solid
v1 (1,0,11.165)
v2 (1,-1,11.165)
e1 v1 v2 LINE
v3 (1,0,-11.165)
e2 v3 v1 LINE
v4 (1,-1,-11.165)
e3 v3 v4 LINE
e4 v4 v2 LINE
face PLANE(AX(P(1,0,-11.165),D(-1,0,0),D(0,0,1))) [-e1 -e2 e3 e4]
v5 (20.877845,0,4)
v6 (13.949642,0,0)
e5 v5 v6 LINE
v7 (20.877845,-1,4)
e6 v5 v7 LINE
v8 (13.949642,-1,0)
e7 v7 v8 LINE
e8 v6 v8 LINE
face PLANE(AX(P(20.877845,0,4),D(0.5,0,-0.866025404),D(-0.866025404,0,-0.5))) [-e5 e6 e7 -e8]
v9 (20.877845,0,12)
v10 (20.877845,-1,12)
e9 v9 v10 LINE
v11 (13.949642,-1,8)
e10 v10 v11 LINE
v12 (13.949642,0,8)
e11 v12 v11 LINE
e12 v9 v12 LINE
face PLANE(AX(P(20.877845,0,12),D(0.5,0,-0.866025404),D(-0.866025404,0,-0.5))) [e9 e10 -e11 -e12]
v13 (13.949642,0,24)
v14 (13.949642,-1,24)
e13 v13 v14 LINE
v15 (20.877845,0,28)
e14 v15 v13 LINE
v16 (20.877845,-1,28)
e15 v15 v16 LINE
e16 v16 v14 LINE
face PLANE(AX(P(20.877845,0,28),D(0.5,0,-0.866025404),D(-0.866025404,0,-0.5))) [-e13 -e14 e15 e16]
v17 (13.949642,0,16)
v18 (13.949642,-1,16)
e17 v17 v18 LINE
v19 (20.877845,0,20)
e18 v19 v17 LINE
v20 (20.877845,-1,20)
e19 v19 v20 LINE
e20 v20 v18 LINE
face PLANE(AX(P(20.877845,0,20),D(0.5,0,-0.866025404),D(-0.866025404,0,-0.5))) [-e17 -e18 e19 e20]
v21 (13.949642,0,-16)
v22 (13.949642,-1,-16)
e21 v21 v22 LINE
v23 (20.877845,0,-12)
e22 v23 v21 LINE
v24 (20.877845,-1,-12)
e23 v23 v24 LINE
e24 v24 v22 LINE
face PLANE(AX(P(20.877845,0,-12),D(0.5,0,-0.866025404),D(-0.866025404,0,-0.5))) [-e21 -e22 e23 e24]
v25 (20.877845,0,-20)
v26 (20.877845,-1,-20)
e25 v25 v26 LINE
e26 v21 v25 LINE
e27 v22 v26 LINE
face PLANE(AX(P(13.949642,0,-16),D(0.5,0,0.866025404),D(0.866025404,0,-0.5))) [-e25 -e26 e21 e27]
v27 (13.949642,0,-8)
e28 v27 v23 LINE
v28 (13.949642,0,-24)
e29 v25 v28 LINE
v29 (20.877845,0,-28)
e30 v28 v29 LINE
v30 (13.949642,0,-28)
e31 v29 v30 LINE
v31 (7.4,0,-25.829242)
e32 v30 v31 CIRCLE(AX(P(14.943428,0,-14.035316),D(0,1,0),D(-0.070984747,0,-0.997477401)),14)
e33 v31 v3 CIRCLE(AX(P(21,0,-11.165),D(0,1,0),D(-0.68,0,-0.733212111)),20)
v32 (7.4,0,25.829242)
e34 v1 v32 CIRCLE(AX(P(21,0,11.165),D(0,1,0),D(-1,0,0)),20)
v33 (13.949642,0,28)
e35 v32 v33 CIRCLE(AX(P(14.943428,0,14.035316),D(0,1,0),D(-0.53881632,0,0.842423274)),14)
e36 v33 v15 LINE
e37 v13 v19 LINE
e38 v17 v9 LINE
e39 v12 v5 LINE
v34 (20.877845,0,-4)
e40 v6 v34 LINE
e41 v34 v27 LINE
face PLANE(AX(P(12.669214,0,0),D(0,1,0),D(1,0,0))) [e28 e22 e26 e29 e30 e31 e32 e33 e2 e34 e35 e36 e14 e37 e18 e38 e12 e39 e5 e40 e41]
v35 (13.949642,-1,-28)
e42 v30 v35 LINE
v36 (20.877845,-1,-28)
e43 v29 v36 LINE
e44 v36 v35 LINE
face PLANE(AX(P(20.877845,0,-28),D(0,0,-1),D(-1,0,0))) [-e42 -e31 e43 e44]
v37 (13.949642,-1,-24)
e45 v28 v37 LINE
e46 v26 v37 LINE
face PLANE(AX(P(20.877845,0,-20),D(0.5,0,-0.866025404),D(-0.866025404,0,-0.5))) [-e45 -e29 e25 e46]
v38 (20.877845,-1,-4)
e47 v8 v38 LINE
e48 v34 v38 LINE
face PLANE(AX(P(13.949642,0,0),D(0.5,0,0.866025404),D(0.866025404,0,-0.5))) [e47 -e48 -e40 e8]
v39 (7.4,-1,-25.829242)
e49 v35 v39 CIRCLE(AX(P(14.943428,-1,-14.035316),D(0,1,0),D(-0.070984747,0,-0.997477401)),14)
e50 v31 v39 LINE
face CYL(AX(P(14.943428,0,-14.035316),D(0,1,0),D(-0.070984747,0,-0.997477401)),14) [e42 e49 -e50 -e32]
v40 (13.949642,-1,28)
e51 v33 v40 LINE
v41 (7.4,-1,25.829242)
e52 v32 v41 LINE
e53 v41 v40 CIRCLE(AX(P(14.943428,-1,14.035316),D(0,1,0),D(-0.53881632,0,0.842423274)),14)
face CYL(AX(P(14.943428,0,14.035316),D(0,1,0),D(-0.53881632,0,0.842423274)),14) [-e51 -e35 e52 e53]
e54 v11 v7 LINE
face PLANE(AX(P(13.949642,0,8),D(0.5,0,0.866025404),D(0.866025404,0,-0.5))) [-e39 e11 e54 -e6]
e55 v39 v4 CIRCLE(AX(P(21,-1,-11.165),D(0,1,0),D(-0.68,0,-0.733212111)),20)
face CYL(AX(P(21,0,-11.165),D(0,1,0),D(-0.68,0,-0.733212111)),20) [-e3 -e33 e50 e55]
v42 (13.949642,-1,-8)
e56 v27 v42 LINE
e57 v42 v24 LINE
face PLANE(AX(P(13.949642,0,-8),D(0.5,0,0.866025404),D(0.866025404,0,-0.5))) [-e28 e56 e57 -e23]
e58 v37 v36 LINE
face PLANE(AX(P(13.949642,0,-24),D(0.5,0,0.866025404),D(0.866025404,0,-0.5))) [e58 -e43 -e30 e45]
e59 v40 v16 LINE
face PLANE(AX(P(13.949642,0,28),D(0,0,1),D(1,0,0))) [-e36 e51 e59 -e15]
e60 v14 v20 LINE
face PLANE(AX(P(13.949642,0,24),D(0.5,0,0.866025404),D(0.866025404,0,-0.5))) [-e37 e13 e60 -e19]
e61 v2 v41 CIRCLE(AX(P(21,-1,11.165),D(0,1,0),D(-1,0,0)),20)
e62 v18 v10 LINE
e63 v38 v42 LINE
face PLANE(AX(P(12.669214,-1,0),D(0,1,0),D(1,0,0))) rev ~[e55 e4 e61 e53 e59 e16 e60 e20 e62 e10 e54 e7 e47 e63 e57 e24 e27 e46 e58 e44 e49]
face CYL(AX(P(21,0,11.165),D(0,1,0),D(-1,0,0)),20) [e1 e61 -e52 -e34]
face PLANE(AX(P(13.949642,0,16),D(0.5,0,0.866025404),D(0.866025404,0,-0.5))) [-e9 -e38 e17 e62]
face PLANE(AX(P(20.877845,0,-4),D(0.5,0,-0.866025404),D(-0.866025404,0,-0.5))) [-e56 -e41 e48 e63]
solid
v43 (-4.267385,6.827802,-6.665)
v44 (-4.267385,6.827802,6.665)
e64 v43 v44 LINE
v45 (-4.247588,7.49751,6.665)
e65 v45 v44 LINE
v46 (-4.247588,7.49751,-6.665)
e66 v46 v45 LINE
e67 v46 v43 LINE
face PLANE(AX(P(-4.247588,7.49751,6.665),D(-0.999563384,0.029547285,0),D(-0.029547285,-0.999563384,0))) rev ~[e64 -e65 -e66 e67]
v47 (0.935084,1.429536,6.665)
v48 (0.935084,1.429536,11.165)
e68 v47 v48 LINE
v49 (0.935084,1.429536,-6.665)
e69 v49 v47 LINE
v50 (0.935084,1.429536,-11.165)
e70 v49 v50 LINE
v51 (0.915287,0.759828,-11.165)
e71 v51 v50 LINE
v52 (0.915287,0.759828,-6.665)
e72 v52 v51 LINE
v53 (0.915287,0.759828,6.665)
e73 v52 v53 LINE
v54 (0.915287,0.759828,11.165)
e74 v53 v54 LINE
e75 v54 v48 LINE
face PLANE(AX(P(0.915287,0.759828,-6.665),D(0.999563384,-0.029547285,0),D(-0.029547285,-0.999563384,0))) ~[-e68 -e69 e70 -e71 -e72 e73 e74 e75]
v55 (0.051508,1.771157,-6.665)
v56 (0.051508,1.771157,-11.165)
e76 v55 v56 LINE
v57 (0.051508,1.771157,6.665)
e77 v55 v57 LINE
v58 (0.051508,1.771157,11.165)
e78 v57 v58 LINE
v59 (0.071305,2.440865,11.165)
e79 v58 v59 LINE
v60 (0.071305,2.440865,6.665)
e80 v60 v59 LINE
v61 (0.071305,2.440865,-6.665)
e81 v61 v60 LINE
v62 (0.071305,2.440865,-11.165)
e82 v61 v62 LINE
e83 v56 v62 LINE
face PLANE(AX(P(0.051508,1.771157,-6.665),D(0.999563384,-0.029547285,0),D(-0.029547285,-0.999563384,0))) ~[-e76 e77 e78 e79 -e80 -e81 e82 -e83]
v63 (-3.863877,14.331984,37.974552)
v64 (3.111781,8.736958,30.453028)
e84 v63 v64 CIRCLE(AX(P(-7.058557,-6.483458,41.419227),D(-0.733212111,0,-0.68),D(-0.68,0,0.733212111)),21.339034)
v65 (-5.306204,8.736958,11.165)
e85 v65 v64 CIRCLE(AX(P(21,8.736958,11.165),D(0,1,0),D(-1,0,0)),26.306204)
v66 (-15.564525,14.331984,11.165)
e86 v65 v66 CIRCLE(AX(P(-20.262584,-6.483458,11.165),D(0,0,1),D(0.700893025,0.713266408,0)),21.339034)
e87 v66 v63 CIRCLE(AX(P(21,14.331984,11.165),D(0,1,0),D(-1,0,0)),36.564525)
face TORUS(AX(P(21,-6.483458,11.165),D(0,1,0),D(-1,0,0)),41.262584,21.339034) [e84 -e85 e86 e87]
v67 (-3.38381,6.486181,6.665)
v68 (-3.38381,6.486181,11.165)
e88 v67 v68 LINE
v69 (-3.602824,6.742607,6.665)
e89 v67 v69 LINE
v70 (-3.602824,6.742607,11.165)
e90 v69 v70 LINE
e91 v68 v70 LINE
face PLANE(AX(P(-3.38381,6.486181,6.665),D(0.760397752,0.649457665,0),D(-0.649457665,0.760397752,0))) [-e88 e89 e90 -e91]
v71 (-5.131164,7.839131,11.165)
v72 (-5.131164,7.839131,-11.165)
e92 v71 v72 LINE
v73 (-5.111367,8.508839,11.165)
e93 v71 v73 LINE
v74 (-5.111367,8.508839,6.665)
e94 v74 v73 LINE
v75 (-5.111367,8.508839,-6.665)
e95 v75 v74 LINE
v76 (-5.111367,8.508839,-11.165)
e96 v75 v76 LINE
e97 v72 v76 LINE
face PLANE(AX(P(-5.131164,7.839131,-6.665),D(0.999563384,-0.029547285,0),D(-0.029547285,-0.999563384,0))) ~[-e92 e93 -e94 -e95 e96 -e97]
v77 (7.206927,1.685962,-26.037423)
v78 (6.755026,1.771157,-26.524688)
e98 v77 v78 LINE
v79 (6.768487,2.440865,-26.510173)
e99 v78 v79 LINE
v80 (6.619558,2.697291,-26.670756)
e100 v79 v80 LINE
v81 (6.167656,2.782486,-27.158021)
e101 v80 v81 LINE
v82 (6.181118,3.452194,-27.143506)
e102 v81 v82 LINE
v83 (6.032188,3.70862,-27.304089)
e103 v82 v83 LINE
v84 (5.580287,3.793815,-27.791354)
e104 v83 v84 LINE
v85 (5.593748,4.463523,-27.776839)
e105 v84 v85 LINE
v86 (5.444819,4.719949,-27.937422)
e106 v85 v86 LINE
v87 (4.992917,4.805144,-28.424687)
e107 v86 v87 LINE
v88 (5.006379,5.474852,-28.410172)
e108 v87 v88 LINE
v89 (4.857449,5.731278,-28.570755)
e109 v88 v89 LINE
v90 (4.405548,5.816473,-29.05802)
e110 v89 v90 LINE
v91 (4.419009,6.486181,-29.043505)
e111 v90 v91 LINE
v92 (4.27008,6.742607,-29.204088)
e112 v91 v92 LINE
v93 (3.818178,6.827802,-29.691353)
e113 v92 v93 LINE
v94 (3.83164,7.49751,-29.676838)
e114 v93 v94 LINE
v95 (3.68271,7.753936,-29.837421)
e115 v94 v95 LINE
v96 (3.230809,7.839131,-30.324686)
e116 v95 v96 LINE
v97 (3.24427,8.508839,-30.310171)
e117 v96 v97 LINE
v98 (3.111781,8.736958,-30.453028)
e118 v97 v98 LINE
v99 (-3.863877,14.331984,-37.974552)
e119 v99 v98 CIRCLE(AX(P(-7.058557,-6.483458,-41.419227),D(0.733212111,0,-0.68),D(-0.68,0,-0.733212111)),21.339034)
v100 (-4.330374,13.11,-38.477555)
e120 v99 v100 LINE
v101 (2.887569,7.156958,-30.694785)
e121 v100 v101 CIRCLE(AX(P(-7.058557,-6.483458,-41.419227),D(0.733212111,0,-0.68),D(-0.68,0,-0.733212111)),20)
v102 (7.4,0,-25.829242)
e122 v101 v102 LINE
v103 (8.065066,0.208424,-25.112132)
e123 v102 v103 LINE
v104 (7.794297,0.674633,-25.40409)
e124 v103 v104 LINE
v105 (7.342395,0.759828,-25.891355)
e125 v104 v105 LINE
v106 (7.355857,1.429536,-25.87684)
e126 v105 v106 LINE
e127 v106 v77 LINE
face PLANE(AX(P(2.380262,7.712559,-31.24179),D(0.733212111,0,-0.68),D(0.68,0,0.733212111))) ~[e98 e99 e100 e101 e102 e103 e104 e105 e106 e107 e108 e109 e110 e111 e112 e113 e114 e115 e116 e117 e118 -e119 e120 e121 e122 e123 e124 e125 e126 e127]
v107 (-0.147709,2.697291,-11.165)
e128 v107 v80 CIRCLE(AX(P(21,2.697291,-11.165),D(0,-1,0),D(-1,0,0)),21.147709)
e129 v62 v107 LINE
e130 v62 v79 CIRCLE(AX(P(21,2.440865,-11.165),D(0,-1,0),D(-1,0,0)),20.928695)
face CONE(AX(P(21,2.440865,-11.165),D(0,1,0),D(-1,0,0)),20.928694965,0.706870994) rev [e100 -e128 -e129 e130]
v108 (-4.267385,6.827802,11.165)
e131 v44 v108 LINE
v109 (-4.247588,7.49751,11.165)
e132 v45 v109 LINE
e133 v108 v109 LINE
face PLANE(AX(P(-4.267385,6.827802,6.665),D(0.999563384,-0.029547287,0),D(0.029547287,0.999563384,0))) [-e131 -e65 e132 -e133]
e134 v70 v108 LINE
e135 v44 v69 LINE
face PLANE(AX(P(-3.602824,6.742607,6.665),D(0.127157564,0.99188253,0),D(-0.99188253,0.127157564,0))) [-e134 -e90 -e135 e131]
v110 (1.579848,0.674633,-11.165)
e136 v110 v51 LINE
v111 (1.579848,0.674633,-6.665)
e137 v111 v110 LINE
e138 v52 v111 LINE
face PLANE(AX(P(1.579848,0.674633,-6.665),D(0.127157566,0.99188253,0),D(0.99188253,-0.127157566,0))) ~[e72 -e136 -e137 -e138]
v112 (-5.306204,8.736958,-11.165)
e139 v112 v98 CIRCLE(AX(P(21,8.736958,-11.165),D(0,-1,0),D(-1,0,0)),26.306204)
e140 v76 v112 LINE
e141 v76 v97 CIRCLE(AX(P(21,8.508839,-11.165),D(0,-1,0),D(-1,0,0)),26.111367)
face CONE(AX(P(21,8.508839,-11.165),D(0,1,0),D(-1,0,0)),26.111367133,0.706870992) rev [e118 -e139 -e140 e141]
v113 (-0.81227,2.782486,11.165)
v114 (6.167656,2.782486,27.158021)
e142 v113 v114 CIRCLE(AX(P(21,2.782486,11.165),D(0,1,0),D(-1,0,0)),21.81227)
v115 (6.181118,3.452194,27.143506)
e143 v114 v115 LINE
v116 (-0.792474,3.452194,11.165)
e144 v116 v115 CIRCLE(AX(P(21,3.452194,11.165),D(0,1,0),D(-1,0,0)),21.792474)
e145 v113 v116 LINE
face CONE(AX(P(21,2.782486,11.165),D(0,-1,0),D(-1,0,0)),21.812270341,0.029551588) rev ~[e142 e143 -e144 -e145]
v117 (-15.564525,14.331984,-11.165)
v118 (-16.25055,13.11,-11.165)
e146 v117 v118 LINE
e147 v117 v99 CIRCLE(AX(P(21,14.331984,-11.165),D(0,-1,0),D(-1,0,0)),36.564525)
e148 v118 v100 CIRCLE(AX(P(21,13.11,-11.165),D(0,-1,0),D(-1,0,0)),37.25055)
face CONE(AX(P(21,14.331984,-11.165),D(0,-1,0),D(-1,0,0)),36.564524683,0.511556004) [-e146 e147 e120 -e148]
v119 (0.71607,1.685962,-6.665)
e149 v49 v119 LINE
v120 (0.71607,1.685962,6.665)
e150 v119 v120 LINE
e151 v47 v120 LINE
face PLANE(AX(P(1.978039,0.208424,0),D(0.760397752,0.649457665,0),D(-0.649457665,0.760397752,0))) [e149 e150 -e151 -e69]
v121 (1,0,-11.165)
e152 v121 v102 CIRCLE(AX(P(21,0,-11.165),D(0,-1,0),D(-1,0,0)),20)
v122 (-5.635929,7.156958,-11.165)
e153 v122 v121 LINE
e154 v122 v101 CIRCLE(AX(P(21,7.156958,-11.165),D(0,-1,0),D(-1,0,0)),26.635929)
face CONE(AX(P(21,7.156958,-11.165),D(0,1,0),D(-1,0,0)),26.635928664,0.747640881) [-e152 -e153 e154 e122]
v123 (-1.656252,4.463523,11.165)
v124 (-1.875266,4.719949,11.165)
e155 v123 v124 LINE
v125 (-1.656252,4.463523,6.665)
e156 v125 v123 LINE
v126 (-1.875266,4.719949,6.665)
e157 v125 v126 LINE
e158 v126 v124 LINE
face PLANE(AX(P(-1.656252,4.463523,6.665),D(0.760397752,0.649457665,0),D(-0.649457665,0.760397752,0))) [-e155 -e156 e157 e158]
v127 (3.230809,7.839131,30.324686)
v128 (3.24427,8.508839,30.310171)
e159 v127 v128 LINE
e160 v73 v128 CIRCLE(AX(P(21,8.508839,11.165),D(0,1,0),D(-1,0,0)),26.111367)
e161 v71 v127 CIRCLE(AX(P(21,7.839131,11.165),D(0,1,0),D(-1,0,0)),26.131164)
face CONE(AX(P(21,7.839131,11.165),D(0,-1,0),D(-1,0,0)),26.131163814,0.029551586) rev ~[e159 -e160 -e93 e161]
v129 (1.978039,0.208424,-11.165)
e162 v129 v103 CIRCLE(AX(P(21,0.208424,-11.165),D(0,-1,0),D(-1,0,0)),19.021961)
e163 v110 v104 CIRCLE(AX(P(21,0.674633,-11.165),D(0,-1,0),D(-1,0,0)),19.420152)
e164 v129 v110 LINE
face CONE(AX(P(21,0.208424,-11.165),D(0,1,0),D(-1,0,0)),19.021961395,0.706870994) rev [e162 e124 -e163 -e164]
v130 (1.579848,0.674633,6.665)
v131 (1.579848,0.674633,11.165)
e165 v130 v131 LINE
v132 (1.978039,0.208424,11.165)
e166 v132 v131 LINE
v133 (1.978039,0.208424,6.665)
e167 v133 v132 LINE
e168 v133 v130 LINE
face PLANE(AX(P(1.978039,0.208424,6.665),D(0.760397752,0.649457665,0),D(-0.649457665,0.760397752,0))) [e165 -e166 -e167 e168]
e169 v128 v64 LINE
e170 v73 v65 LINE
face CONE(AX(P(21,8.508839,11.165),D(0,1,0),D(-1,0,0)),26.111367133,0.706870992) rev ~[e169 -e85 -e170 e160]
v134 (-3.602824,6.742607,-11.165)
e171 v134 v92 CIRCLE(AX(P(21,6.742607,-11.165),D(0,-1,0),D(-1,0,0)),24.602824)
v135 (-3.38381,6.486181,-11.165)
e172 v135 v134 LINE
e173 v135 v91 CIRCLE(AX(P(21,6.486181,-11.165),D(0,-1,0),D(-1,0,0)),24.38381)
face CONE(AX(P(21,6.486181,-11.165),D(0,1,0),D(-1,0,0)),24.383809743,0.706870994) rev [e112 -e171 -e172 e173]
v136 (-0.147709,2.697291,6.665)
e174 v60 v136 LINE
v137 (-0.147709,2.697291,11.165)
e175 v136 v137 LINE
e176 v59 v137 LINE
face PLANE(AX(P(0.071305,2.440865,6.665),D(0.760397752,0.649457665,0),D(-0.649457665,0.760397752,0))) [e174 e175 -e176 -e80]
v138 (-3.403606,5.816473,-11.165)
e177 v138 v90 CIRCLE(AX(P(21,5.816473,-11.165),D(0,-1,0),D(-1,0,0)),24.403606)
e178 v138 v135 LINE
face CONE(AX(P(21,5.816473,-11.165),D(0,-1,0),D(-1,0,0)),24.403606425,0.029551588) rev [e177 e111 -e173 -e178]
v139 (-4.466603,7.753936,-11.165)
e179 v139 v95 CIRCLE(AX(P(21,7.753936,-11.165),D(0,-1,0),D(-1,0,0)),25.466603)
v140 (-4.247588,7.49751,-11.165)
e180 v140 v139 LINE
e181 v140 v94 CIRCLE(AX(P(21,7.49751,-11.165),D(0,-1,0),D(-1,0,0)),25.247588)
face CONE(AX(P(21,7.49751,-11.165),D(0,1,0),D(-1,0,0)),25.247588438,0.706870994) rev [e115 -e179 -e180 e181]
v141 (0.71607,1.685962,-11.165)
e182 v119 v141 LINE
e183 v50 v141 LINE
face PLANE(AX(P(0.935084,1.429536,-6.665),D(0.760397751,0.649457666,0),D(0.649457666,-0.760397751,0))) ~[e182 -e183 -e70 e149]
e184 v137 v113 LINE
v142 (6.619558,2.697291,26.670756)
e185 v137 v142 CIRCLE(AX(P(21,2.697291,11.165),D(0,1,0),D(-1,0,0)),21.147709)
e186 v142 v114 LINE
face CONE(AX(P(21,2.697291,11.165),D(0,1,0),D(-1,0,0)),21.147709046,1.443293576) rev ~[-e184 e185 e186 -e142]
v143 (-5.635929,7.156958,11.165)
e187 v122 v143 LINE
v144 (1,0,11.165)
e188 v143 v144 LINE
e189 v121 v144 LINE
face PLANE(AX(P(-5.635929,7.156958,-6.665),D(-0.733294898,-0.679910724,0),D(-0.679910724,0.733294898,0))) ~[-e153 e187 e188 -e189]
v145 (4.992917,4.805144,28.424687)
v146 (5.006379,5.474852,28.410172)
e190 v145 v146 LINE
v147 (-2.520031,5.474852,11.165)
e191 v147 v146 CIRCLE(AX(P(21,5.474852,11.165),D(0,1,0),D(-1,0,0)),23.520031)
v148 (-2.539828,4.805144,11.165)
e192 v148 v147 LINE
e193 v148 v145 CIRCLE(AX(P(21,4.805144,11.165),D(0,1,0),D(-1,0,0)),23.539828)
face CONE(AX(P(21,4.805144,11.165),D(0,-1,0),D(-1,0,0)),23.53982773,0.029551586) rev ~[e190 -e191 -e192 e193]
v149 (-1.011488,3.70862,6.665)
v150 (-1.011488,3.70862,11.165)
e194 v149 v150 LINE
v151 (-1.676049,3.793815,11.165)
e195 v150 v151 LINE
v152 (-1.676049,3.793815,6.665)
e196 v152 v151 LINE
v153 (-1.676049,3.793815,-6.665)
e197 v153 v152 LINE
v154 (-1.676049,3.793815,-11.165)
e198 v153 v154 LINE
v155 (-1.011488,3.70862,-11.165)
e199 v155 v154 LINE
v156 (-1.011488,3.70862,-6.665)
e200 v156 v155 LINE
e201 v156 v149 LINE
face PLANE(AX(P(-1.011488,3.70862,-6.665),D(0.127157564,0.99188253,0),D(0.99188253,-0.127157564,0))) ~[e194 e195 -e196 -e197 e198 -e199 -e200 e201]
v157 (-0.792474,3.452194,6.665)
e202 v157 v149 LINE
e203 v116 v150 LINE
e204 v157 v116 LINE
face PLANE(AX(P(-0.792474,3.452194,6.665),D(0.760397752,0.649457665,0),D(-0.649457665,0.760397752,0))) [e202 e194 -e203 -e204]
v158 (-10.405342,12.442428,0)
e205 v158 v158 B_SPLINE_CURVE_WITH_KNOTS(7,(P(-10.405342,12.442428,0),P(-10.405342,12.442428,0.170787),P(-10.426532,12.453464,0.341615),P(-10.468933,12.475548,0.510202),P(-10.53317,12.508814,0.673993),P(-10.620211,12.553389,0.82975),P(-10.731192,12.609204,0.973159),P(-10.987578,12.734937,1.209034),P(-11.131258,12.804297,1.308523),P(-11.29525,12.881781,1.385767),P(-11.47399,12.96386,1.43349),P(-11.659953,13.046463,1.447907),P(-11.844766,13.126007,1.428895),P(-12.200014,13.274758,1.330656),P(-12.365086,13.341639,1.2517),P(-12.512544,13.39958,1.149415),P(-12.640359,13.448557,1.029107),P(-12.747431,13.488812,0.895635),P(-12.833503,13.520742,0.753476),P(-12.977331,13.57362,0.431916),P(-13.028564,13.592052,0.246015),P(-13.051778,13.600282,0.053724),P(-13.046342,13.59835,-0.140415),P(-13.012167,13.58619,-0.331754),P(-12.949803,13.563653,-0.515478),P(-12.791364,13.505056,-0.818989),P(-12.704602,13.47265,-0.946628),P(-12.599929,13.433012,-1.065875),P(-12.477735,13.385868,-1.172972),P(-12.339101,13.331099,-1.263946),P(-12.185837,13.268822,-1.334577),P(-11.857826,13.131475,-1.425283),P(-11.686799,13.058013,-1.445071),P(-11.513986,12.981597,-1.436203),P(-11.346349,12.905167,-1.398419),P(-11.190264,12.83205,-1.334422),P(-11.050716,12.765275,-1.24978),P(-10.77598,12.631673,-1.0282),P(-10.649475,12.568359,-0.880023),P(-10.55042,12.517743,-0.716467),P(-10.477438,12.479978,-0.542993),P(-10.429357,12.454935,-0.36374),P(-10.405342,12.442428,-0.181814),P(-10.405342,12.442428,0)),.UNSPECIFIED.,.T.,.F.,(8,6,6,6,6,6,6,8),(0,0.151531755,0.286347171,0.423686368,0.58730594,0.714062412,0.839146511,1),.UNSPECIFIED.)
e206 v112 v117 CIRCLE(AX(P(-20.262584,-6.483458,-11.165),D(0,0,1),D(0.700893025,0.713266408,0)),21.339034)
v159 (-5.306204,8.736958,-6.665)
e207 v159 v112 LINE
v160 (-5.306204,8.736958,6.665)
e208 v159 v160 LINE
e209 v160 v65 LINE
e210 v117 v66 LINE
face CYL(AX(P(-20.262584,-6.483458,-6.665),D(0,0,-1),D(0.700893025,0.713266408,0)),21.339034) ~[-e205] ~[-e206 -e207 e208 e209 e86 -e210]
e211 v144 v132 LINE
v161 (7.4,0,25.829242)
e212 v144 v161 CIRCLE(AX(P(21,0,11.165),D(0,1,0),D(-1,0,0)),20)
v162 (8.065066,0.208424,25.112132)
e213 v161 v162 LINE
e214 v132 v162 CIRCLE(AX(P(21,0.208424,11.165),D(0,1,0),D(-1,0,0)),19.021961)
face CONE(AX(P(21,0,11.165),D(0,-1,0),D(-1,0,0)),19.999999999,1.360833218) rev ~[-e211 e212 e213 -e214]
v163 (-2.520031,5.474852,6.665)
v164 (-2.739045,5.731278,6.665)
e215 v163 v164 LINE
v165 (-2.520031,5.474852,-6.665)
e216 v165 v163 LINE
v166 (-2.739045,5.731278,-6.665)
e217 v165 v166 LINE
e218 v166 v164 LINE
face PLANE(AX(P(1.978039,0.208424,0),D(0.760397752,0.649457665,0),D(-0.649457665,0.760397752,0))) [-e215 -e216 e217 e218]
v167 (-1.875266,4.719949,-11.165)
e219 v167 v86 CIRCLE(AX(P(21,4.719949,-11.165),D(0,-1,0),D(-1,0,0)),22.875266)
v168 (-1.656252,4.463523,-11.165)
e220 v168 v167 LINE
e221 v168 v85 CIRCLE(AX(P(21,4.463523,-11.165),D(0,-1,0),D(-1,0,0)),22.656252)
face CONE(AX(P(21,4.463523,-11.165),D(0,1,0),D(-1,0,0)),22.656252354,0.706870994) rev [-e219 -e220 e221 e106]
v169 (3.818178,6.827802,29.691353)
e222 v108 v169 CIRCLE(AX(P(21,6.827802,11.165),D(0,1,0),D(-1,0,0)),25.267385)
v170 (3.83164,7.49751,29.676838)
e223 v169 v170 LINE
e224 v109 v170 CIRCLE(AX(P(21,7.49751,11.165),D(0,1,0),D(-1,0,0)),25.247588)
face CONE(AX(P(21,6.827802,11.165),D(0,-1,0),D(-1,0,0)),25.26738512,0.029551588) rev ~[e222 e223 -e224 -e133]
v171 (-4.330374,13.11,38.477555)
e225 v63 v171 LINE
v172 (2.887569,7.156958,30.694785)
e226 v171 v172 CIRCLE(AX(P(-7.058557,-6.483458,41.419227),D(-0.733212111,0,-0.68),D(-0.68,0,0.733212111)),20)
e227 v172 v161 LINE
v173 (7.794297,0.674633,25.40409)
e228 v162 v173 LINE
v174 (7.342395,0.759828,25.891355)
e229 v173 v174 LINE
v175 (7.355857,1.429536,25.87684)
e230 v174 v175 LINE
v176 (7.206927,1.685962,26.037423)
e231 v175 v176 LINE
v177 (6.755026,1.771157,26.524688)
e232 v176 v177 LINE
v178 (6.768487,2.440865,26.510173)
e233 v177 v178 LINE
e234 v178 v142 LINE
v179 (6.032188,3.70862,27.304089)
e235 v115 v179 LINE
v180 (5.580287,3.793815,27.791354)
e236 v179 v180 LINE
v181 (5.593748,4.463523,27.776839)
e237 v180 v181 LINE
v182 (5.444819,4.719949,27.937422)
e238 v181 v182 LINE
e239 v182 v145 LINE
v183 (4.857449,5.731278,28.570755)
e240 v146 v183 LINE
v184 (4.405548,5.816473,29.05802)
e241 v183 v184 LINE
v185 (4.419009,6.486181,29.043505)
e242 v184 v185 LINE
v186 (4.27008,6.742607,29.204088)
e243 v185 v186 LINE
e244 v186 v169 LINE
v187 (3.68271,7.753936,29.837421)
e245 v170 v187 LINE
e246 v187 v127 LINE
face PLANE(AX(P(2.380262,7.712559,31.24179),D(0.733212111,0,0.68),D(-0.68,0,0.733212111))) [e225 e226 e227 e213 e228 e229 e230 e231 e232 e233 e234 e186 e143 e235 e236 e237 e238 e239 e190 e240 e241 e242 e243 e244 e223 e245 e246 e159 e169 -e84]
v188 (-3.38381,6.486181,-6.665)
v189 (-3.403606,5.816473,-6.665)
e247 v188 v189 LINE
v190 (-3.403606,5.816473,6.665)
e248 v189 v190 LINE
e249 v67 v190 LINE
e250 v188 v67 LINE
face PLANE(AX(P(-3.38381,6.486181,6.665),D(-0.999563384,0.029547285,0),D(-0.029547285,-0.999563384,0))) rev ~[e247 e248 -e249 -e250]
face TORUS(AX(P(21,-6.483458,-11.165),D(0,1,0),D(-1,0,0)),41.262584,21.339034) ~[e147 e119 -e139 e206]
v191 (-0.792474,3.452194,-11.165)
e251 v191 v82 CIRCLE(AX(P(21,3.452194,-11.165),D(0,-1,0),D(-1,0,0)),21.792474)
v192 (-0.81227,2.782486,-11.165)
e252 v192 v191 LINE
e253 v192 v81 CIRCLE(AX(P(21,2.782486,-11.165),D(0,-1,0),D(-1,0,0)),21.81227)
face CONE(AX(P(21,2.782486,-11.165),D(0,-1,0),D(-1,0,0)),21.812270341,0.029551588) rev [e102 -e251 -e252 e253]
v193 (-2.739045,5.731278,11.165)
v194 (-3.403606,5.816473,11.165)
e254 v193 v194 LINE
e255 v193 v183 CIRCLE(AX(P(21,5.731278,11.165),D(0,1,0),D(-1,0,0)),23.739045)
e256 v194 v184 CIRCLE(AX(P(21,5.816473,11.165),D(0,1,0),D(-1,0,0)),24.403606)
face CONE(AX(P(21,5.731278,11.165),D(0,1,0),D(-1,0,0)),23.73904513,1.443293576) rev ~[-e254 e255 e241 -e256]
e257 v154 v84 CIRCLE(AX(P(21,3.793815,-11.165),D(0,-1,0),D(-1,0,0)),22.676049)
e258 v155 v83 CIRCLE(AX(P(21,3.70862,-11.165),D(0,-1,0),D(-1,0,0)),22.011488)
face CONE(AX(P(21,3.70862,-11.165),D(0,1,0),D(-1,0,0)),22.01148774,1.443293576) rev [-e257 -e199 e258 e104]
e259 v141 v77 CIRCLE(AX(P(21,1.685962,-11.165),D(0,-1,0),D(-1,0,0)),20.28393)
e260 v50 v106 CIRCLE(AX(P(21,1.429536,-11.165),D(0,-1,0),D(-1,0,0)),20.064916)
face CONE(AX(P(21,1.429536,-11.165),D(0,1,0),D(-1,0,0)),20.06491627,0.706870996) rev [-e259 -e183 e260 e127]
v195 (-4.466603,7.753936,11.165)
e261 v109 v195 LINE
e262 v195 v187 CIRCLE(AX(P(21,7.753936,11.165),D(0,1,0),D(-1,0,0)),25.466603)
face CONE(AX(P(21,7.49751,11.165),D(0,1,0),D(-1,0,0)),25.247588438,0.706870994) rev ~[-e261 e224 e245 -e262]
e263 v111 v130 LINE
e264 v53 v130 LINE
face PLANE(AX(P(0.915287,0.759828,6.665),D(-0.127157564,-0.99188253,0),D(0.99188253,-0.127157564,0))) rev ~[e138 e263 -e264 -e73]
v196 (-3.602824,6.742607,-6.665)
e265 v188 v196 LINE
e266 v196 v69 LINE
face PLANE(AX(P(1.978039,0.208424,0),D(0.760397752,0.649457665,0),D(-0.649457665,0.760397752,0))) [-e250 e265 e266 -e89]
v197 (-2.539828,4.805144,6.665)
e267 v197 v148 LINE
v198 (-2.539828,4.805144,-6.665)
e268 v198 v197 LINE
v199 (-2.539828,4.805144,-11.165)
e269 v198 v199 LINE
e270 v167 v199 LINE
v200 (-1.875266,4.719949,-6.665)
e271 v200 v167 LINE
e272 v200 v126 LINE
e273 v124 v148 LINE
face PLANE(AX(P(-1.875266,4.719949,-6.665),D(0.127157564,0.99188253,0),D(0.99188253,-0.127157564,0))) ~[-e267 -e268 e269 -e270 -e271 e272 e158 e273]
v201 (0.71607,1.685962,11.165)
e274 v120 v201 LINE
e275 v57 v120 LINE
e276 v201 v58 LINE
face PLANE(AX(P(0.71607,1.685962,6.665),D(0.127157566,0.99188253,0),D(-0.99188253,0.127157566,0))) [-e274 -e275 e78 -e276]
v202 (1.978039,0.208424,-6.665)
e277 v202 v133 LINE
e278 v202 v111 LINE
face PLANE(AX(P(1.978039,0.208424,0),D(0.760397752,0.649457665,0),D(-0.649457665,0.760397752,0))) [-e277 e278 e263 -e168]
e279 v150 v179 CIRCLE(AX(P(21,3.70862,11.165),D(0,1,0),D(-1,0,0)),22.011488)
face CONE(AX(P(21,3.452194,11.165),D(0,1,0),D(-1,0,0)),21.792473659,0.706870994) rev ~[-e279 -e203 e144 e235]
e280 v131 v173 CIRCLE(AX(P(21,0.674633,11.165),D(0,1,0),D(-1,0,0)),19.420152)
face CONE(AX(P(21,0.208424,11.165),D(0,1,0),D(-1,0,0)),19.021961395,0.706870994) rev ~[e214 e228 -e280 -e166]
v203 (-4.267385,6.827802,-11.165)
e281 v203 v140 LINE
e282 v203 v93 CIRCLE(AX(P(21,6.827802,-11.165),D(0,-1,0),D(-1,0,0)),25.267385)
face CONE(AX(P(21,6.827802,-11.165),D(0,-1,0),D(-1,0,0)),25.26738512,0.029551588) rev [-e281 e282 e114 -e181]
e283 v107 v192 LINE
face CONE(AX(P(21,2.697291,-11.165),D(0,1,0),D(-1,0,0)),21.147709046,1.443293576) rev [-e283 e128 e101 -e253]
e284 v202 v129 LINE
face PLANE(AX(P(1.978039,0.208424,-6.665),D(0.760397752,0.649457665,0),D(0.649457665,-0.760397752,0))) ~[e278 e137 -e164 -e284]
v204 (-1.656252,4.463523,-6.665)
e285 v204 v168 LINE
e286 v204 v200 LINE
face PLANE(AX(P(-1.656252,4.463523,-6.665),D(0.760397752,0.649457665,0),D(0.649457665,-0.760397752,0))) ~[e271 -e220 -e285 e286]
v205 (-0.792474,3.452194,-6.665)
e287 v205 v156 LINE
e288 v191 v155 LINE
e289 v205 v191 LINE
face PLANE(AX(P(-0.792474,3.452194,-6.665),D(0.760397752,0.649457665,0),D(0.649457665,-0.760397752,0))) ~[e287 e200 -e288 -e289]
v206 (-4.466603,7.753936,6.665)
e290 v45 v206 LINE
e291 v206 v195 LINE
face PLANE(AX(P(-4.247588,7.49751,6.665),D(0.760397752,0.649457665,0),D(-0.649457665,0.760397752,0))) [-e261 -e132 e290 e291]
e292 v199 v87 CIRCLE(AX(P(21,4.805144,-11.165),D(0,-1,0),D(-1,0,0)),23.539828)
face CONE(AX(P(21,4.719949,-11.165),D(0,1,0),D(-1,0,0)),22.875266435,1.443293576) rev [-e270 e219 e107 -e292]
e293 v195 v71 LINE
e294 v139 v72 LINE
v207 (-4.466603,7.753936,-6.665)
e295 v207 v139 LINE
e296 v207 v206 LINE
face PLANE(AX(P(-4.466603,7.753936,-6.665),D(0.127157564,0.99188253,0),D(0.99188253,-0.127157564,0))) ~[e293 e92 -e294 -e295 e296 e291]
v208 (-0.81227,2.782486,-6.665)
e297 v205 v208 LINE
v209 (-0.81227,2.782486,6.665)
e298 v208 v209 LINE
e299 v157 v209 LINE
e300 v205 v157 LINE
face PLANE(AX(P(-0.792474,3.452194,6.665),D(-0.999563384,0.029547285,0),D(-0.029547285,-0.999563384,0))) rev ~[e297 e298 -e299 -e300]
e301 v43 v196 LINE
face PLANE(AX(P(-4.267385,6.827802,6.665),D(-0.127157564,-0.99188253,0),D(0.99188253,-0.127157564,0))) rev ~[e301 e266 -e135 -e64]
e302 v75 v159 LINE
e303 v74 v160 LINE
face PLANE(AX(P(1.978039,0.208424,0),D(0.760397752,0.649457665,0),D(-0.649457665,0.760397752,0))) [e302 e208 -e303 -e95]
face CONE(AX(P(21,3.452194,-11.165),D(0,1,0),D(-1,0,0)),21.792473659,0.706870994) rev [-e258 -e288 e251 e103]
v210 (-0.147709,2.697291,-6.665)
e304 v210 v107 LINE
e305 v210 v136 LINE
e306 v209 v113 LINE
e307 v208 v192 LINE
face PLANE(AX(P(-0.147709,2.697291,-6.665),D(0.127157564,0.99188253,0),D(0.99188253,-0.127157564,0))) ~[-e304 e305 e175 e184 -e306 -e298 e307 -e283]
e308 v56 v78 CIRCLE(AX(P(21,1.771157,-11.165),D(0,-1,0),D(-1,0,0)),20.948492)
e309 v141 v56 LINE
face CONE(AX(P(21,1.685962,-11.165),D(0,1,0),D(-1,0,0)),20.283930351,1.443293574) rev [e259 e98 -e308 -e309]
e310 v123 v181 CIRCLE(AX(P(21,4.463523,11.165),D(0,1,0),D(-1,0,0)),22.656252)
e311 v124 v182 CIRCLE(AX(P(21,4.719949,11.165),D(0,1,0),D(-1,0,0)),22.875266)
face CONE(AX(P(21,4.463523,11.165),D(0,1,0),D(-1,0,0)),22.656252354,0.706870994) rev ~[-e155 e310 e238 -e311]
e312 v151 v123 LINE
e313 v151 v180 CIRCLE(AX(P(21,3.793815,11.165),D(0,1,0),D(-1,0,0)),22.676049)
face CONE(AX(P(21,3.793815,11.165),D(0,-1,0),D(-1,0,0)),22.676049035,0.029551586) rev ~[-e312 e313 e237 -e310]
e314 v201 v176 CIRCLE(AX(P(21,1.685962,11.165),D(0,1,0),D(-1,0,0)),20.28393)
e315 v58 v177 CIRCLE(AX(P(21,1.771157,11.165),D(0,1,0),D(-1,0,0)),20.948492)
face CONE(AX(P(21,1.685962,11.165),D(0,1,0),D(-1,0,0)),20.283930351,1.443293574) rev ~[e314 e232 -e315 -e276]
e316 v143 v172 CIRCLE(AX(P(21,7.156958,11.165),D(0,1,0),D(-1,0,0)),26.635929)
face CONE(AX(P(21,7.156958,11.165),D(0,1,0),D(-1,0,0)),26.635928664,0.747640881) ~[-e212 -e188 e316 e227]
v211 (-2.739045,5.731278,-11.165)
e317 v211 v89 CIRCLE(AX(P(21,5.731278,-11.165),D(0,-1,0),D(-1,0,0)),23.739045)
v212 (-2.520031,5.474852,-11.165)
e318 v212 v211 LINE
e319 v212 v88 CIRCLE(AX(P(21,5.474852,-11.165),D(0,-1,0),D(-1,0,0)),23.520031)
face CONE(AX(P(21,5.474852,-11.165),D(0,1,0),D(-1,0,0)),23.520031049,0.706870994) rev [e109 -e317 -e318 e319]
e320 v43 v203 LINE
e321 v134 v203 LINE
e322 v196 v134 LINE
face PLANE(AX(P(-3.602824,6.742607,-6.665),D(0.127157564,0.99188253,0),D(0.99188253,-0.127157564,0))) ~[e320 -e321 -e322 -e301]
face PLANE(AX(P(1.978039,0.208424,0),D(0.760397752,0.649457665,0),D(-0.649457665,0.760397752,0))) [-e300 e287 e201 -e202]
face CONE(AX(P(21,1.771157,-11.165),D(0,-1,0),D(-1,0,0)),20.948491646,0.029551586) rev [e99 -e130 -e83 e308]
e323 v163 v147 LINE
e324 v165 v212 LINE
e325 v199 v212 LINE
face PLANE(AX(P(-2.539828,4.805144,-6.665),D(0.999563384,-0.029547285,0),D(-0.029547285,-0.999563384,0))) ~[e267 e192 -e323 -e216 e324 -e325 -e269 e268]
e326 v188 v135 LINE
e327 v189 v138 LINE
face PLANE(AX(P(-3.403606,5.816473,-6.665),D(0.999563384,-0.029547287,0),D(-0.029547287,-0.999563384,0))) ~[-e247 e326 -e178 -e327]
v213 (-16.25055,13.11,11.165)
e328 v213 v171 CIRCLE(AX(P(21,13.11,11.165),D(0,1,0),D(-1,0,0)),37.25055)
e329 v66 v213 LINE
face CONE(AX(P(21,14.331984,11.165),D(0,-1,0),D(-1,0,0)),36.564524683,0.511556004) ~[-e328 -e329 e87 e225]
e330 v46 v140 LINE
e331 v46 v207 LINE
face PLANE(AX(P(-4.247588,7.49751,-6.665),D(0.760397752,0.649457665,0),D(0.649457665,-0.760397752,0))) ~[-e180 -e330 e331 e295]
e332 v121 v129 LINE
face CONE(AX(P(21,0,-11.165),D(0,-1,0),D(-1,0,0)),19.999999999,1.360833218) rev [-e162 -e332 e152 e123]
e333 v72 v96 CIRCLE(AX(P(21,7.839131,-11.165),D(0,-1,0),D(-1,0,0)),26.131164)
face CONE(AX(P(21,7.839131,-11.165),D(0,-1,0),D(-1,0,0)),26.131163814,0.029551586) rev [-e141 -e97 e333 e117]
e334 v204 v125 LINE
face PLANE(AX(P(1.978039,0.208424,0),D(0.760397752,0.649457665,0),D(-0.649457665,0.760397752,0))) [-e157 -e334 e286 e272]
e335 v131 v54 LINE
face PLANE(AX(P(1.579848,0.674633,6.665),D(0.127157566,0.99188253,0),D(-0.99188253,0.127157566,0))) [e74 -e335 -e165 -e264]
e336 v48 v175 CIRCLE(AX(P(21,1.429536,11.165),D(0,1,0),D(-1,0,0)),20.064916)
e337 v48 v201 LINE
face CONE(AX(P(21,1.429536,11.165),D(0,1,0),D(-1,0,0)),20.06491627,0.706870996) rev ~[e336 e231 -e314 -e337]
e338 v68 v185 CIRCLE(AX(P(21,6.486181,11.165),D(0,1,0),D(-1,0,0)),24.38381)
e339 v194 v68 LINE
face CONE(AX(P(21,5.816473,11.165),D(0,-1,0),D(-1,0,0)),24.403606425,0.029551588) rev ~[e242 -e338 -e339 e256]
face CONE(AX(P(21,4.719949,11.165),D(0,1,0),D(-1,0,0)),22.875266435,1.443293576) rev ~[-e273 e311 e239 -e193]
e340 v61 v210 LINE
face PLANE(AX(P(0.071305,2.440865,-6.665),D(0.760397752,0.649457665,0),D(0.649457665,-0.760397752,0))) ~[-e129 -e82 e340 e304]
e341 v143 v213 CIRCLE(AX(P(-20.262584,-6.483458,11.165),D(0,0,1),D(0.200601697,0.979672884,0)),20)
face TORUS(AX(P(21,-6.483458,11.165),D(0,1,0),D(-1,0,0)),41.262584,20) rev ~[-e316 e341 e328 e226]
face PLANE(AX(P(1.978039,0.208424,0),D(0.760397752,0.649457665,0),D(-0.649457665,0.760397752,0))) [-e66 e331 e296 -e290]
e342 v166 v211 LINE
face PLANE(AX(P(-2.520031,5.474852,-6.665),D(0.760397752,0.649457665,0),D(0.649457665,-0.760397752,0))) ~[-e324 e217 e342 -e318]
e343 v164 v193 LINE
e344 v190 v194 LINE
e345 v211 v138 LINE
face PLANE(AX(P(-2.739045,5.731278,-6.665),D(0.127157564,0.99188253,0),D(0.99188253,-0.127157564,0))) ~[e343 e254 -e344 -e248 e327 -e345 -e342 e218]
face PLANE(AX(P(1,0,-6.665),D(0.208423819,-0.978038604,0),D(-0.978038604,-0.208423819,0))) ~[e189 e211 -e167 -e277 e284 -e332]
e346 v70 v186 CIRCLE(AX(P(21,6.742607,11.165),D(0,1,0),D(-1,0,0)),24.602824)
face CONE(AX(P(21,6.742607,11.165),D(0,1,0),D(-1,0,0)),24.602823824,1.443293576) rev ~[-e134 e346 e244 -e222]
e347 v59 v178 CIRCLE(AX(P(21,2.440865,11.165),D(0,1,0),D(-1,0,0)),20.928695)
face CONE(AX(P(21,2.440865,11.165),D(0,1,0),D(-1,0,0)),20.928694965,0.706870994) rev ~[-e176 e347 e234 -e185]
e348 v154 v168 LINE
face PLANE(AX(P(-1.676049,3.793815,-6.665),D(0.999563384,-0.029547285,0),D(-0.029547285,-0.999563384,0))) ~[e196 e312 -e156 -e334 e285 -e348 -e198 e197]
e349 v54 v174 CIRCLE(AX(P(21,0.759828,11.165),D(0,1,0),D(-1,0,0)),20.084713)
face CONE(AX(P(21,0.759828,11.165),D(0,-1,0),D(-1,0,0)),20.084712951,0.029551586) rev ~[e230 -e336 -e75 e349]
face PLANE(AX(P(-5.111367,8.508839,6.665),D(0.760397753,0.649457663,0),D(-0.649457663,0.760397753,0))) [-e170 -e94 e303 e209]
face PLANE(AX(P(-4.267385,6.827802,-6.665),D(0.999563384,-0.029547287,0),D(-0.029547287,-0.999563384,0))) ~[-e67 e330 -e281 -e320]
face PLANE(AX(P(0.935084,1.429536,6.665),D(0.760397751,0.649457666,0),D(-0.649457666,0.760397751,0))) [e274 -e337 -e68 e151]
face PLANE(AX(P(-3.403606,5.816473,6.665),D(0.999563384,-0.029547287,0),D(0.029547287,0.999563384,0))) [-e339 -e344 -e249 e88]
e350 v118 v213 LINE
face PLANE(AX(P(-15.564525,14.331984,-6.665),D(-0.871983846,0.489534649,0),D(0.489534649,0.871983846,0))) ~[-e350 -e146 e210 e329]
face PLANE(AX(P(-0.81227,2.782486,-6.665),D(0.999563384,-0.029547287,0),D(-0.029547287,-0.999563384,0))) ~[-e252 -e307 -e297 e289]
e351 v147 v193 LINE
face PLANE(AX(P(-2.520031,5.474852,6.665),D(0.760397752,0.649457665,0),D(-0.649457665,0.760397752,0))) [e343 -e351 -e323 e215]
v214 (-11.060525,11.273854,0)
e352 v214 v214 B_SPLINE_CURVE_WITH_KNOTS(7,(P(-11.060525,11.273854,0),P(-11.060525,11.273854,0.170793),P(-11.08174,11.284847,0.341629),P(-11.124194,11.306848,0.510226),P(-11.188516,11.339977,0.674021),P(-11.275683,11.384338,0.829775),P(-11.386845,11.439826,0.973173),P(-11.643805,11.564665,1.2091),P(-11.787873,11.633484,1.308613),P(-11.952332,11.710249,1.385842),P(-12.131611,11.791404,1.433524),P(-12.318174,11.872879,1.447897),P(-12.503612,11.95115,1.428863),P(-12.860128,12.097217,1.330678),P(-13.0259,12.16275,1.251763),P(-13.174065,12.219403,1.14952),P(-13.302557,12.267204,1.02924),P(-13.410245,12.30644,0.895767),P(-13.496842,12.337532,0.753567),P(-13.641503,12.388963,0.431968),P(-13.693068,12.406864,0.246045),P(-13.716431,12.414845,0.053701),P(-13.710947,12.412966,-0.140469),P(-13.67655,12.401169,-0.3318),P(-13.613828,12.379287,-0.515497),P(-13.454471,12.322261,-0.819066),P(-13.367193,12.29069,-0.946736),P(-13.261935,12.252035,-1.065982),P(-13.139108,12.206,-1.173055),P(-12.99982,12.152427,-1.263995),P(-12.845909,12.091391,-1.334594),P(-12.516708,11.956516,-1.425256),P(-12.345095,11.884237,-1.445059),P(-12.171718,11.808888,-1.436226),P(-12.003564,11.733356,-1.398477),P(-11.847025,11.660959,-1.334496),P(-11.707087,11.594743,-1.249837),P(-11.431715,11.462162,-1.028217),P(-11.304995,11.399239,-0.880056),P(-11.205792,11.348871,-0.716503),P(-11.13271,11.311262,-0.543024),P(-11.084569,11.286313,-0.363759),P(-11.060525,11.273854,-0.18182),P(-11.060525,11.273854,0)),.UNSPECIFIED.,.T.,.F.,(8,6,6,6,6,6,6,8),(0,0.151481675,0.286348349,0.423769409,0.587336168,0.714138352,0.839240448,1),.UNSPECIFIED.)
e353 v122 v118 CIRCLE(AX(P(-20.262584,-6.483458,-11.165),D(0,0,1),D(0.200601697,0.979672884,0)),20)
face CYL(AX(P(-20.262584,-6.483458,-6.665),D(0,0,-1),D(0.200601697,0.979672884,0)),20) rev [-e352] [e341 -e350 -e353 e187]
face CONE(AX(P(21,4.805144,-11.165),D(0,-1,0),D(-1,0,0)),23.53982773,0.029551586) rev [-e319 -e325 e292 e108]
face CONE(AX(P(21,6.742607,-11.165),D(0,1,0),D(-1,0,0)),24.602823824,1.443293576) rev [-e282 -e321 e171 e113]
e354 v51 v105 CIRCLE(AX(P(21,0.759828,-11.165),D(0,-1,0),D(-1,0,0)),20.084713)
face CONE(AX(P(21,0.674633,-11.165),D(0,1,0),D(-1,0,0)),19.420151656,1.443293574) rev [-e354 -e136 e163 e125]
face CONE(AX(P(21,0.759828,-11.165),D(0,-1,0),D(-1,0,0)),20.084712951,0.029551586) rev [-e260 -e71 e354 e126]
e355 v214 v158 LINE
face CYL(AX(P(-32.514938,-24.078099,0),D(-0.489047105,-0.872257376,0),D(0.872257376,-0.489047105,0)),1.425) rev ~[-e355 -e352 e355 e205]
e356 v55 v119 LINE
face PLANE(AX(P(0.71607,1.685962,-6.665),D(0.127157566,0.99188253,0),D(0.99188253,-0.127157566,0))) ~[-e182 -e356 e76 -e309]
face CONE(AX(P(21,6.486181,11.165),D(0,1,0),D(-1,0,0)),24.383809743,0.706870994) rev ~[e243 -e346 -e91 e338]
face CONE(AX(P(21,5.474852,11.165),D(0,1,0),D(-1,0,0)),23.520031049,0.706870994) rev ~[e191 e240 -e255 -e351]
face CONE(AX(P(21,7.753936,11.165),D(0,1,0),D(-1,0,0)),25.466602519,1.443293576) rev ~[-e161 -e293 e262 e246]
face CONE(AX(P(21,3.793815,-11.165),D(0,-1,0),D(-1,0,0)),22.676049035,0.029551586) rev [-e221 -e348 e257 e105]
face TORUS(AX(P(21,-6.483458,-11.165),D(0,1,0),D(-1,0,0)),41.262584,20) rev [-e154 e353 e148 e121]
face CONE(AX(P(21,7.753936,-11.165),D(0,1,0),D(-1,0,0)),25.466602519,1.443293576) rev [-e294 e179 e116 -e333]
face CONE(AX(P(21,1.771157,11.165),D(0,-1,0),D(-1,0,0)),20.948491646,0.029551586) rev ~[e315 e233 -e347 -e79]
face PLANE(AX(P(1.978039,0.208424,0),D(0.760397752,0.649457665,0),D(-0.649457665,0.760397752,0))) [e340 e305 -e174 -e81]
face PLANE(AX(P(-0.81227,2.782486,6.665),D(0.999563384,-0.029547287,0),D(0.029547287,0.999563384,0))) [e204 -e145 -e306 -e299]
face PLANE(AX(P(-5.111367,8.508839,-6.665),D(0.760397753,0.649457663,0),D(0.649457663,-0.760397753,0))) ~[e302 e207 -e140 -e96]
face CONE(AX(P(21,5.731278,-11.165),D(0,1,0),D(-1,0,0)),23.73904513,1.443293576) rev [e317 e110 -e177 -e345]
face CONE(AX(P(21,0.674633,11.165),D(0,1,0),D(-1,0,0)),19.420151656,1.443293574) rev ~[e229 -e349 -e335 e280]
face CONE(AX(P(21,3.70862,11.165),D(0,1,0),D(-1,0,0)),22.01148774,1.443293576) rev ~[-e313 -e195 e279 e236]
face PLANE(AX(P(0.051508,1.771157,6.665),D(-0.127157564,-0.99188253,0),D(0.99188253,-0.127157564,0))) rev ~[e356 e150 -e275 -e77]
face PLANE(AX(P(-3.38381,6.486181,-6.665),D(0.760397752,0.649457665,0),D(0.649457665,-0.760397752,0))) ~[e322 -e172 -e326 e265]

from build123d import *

# Parameters (mm, degrees)
BOSS_EXTRUDE1_DEPTH = 6.665
CUT_EXTRUDE2_DEPTH  = 26.439635203
LPATTERN1_COUNT     = 8
LPATTERN1_PITCH     = 1.33
BOSS_EXTRUDE2_DEPTH = 1
SKETCH11_R          = 1.425
CUT_EXTRUDE4_DEPTH  = 72.832856437


with BuildPart() as part:
    # Sketch1 → Boss-Extrude1 (new, symmetric)
    with BuildSketch(Plane.XY):
        with BuildLine():
            Line((-5.635928665, 7.156958206), (1, 0))
            Line((1, 0), (1.978038604, 0.208423819))
            Line((1.978038604, 0.208423819), (-5.306204433, 8.736958206))
            ThreePointArc((-5.306204433, 8.736958206), (-10.044936575, 12.250309514), (-15.564524684, 14.33198356))
            Line((-15.564524684, 14.33198356), (-16.250550344, 13.11))
            ThreePointArc((-16.250550344, 13.11), (-10.479442469, 10.960456342), (-5.635928665, 7.156958206))
        make_face()
    extrude(amount=BOSS_EXTRUDE1_DEPTH, both=True)

    # Sketch2 → Cut-Extrude2 (cut, symmetric)
    with BuildSketch(Plane.XY.offset(6.665)):
        Polygon((-3.982294286, 46.704559607), (-5.111367134, 8.50883888), (-5.131163815, 7.839131413), (-4.46660252, 7.753935845), (33.435614326, 2.894939498), (91.54886787, 52.52961802), (54.130959258, 96.339238129), align=None)
    cut_extrude2 = extrude(amount=CUT_EXTRUDE2_DEPTH, both=True, mode=Mode.SUBTRACT)

    # LPattern1: Cut-Extrude2 ×8
    with Locations(*[Vector(0.6494576652092012, -0.7603977519042342, 0) * (i * LPATTERN1_PITCH) for i in range(1, LPATTERN1_COUNT)]):
        add(cut_extrude2, mode=Mode.SUBTRACT)

    # Sweep1: sweep along a path in Sketch5
    with BuildLine(Plane(origin=(0, 0, 0), x_dir=(1, 0, 0), z_dir=(0, 1, 0))) as sweep1_path:
        Line((1, -6.665), (1, -11.165))
        ThreePointArc((1, -11.165), (2.66969722, -19.165), (7.4, -25.829242224))
    # Sketch3 → Sweep1 (sweep)
    with BuildSketch(Plane.XY.offset(6.665)):
        with BuildLine():
            Line((-5.111367134, 8.50883888), (-5.306204433, 8.736958206))
            ThreePointArc((-5.306204433, 8.736958206), (-10.044936575, 12.250309514), (-15.564524684, 14.33198356))
            Line((-15.564524684, 14.33198356), (-16.250550344, 13.11))
            ThreePointArc((-16.250550344, 13.11), (-10.479442469, 10.960456342), (-5.635928665, 7.156958206))
            Line((-5.635928665, 7.156958206), (1, 0))
            Line((1, 0), (1.978038604, 0.208423819))
            Line((1.978038604, 0.208423819), (1.579848343, 0.674632774))
            Line((1.579848343, 0.674632774), (0.915287048, 0.759828343))
            Line((0.915287048, 0.759828343), (0.935083729, 1.42953581))
            Line((0.935083729, 1.42953581), (0.716069648, 1.685961784))
            Line((0.716069648, 1.685961784), (0.051508353, 1.771157353))
            Line((0.051508353, 1.771157353), (0.071305034, 2.44086482))
            Line((0.071305034, 2.44086482), (-0.147709047, 2.697290795))
            Line((-0.147709047, 2.697290795), (-0.812270342, 2.782486363))
            Line((-0.812270342, 2.782486363), (-0.79247366, 3.45219383))
            Line((-0.79247366, 3.45219383), (-1.011487741, 3.708619805))
            Line((-1.011487741, 3.708619805), (-1.676049036, 3.793815373))
            Line((-1.676049036, 3.793815373), (-1.656252355, 4.46352284))
            Line((-1.656252355, 4.46352284), (-1.875266436, 4.719948815))
            Line((-1.875266436, 4.719948815), (-2.539827731, 4.805144383))
            Line((-2.539827731, 4.805144383), (-2.52003105, 5.47485185))
            Line((-2.52003105, 5.47485185), (-2.739045131, 5.731277825))
            Line((-2.739045131, 5.731277825), (-3.403606426, 5.816473393))
            Line((-3.403606426, 5.816473393), (-3.383809744, 6.48618086))
            Line((-3.383809744, 6.48618086), (-3.602823825, 6.742606835))
            Line((-3.602823825, 6.742606835), (-4.267385121, 6.827802403))
            Line((-4.267385121, 6.827802403), (-4.247588439, 7.49750987))
            Line((-4.247588439, 7.49750987), (-4.46660252, 7.753935845))
            Line((-4.46660252, 7.753935845), (-5.131163815, 7.839131413))
            Line((-5.131163815, 7.839131413), (-5.111367134, 8.50883888))
        make_face()
    sweep1 = sweep(path=sweep1_path.line)

    # Mirror1: Sweep1 across plane
    add(sweep1.mirror(Plane.XY))

    # Sketch11 → Cut-Extrude4 (cut, through all)
    with BuildSketch(Plane(origin=(-18.047616148, -32.18946836, 0), x_dir=(-0.8722573757239734, 0.48904710457697953, 0), z_dir=(-0.4890471045769795, -0.8722573757239733, 0))):
        with Locations(Location((16.586069938, 0, 0), (0, 0, 180))):
            Circle(SKETCH11_R)
    extrude(amount=-CUT_EXTRUDE4_DEPTH, mode=Mode.SUBTRACT)


with BuildPart() as body_2:
    # Sketch9 → Boss-Extrude2 (new body)
    with BuildSketch(Plane(origin=(0, 0, 0), x_dir=(1, 0, 0), z_dir=(0, 1, 0))):
        with BuildLine():
            Line((13.949642027, -24), (20.877845257, -20))
            Line((20.877845257, -20), (13.949642027, -16))
            Line((13.949642027, -16), (20.877845257, -12))
            Line((20.877845257, -12), (13.949642027, -8))
            Line((13.949642027, -8), (20.877845257, -4))
            Line((20.877845257, -4), (13.949642027, 0))
            Line((13.949642027, 0), (20.877845257, 4))
            Line((20.877845257, 4), (13.949642027, 8))
            Line((13.949642027, 8), (20.877845257, 12))
            Line((20.877845257, 12), (13.949642027, 16))
            Line((13.949642027, 16), (20.877845257, 20))
            Line((20.877845257, 20), (13.949642027, 24))
            Line((13.949642027, 24), (20.877845257, 28))
            Line((20.877845257, 28), (13.949642027, 28))
            ThreePointArc((13.949642027, 28), (10.538992417, 27.324445134), (7.4, 25.829242224))
            ThreePointArc((7.4, 25.829242224), (2.66969722, 19.165), (1, 11.165))
            Line((1, 11.165), (1, -11.165))
            ThreePointArc((1, -11.165), (2.66969722, -19.165), (7.4, -25.829242224))
            ThreePointArc((7.4, -25.829242224), (10.538992417, -27.324445134), (13.949642027, -28))
            Line((13.949642027, -28), (20.877845257, -28))
            Line((20.877845257, -28), (13.949642027, -24))
        make_face()
    extrude(amount=-BOSS_EXTRUDE2_DEPTH)


solid = Compound([part.part, body_2.part])
